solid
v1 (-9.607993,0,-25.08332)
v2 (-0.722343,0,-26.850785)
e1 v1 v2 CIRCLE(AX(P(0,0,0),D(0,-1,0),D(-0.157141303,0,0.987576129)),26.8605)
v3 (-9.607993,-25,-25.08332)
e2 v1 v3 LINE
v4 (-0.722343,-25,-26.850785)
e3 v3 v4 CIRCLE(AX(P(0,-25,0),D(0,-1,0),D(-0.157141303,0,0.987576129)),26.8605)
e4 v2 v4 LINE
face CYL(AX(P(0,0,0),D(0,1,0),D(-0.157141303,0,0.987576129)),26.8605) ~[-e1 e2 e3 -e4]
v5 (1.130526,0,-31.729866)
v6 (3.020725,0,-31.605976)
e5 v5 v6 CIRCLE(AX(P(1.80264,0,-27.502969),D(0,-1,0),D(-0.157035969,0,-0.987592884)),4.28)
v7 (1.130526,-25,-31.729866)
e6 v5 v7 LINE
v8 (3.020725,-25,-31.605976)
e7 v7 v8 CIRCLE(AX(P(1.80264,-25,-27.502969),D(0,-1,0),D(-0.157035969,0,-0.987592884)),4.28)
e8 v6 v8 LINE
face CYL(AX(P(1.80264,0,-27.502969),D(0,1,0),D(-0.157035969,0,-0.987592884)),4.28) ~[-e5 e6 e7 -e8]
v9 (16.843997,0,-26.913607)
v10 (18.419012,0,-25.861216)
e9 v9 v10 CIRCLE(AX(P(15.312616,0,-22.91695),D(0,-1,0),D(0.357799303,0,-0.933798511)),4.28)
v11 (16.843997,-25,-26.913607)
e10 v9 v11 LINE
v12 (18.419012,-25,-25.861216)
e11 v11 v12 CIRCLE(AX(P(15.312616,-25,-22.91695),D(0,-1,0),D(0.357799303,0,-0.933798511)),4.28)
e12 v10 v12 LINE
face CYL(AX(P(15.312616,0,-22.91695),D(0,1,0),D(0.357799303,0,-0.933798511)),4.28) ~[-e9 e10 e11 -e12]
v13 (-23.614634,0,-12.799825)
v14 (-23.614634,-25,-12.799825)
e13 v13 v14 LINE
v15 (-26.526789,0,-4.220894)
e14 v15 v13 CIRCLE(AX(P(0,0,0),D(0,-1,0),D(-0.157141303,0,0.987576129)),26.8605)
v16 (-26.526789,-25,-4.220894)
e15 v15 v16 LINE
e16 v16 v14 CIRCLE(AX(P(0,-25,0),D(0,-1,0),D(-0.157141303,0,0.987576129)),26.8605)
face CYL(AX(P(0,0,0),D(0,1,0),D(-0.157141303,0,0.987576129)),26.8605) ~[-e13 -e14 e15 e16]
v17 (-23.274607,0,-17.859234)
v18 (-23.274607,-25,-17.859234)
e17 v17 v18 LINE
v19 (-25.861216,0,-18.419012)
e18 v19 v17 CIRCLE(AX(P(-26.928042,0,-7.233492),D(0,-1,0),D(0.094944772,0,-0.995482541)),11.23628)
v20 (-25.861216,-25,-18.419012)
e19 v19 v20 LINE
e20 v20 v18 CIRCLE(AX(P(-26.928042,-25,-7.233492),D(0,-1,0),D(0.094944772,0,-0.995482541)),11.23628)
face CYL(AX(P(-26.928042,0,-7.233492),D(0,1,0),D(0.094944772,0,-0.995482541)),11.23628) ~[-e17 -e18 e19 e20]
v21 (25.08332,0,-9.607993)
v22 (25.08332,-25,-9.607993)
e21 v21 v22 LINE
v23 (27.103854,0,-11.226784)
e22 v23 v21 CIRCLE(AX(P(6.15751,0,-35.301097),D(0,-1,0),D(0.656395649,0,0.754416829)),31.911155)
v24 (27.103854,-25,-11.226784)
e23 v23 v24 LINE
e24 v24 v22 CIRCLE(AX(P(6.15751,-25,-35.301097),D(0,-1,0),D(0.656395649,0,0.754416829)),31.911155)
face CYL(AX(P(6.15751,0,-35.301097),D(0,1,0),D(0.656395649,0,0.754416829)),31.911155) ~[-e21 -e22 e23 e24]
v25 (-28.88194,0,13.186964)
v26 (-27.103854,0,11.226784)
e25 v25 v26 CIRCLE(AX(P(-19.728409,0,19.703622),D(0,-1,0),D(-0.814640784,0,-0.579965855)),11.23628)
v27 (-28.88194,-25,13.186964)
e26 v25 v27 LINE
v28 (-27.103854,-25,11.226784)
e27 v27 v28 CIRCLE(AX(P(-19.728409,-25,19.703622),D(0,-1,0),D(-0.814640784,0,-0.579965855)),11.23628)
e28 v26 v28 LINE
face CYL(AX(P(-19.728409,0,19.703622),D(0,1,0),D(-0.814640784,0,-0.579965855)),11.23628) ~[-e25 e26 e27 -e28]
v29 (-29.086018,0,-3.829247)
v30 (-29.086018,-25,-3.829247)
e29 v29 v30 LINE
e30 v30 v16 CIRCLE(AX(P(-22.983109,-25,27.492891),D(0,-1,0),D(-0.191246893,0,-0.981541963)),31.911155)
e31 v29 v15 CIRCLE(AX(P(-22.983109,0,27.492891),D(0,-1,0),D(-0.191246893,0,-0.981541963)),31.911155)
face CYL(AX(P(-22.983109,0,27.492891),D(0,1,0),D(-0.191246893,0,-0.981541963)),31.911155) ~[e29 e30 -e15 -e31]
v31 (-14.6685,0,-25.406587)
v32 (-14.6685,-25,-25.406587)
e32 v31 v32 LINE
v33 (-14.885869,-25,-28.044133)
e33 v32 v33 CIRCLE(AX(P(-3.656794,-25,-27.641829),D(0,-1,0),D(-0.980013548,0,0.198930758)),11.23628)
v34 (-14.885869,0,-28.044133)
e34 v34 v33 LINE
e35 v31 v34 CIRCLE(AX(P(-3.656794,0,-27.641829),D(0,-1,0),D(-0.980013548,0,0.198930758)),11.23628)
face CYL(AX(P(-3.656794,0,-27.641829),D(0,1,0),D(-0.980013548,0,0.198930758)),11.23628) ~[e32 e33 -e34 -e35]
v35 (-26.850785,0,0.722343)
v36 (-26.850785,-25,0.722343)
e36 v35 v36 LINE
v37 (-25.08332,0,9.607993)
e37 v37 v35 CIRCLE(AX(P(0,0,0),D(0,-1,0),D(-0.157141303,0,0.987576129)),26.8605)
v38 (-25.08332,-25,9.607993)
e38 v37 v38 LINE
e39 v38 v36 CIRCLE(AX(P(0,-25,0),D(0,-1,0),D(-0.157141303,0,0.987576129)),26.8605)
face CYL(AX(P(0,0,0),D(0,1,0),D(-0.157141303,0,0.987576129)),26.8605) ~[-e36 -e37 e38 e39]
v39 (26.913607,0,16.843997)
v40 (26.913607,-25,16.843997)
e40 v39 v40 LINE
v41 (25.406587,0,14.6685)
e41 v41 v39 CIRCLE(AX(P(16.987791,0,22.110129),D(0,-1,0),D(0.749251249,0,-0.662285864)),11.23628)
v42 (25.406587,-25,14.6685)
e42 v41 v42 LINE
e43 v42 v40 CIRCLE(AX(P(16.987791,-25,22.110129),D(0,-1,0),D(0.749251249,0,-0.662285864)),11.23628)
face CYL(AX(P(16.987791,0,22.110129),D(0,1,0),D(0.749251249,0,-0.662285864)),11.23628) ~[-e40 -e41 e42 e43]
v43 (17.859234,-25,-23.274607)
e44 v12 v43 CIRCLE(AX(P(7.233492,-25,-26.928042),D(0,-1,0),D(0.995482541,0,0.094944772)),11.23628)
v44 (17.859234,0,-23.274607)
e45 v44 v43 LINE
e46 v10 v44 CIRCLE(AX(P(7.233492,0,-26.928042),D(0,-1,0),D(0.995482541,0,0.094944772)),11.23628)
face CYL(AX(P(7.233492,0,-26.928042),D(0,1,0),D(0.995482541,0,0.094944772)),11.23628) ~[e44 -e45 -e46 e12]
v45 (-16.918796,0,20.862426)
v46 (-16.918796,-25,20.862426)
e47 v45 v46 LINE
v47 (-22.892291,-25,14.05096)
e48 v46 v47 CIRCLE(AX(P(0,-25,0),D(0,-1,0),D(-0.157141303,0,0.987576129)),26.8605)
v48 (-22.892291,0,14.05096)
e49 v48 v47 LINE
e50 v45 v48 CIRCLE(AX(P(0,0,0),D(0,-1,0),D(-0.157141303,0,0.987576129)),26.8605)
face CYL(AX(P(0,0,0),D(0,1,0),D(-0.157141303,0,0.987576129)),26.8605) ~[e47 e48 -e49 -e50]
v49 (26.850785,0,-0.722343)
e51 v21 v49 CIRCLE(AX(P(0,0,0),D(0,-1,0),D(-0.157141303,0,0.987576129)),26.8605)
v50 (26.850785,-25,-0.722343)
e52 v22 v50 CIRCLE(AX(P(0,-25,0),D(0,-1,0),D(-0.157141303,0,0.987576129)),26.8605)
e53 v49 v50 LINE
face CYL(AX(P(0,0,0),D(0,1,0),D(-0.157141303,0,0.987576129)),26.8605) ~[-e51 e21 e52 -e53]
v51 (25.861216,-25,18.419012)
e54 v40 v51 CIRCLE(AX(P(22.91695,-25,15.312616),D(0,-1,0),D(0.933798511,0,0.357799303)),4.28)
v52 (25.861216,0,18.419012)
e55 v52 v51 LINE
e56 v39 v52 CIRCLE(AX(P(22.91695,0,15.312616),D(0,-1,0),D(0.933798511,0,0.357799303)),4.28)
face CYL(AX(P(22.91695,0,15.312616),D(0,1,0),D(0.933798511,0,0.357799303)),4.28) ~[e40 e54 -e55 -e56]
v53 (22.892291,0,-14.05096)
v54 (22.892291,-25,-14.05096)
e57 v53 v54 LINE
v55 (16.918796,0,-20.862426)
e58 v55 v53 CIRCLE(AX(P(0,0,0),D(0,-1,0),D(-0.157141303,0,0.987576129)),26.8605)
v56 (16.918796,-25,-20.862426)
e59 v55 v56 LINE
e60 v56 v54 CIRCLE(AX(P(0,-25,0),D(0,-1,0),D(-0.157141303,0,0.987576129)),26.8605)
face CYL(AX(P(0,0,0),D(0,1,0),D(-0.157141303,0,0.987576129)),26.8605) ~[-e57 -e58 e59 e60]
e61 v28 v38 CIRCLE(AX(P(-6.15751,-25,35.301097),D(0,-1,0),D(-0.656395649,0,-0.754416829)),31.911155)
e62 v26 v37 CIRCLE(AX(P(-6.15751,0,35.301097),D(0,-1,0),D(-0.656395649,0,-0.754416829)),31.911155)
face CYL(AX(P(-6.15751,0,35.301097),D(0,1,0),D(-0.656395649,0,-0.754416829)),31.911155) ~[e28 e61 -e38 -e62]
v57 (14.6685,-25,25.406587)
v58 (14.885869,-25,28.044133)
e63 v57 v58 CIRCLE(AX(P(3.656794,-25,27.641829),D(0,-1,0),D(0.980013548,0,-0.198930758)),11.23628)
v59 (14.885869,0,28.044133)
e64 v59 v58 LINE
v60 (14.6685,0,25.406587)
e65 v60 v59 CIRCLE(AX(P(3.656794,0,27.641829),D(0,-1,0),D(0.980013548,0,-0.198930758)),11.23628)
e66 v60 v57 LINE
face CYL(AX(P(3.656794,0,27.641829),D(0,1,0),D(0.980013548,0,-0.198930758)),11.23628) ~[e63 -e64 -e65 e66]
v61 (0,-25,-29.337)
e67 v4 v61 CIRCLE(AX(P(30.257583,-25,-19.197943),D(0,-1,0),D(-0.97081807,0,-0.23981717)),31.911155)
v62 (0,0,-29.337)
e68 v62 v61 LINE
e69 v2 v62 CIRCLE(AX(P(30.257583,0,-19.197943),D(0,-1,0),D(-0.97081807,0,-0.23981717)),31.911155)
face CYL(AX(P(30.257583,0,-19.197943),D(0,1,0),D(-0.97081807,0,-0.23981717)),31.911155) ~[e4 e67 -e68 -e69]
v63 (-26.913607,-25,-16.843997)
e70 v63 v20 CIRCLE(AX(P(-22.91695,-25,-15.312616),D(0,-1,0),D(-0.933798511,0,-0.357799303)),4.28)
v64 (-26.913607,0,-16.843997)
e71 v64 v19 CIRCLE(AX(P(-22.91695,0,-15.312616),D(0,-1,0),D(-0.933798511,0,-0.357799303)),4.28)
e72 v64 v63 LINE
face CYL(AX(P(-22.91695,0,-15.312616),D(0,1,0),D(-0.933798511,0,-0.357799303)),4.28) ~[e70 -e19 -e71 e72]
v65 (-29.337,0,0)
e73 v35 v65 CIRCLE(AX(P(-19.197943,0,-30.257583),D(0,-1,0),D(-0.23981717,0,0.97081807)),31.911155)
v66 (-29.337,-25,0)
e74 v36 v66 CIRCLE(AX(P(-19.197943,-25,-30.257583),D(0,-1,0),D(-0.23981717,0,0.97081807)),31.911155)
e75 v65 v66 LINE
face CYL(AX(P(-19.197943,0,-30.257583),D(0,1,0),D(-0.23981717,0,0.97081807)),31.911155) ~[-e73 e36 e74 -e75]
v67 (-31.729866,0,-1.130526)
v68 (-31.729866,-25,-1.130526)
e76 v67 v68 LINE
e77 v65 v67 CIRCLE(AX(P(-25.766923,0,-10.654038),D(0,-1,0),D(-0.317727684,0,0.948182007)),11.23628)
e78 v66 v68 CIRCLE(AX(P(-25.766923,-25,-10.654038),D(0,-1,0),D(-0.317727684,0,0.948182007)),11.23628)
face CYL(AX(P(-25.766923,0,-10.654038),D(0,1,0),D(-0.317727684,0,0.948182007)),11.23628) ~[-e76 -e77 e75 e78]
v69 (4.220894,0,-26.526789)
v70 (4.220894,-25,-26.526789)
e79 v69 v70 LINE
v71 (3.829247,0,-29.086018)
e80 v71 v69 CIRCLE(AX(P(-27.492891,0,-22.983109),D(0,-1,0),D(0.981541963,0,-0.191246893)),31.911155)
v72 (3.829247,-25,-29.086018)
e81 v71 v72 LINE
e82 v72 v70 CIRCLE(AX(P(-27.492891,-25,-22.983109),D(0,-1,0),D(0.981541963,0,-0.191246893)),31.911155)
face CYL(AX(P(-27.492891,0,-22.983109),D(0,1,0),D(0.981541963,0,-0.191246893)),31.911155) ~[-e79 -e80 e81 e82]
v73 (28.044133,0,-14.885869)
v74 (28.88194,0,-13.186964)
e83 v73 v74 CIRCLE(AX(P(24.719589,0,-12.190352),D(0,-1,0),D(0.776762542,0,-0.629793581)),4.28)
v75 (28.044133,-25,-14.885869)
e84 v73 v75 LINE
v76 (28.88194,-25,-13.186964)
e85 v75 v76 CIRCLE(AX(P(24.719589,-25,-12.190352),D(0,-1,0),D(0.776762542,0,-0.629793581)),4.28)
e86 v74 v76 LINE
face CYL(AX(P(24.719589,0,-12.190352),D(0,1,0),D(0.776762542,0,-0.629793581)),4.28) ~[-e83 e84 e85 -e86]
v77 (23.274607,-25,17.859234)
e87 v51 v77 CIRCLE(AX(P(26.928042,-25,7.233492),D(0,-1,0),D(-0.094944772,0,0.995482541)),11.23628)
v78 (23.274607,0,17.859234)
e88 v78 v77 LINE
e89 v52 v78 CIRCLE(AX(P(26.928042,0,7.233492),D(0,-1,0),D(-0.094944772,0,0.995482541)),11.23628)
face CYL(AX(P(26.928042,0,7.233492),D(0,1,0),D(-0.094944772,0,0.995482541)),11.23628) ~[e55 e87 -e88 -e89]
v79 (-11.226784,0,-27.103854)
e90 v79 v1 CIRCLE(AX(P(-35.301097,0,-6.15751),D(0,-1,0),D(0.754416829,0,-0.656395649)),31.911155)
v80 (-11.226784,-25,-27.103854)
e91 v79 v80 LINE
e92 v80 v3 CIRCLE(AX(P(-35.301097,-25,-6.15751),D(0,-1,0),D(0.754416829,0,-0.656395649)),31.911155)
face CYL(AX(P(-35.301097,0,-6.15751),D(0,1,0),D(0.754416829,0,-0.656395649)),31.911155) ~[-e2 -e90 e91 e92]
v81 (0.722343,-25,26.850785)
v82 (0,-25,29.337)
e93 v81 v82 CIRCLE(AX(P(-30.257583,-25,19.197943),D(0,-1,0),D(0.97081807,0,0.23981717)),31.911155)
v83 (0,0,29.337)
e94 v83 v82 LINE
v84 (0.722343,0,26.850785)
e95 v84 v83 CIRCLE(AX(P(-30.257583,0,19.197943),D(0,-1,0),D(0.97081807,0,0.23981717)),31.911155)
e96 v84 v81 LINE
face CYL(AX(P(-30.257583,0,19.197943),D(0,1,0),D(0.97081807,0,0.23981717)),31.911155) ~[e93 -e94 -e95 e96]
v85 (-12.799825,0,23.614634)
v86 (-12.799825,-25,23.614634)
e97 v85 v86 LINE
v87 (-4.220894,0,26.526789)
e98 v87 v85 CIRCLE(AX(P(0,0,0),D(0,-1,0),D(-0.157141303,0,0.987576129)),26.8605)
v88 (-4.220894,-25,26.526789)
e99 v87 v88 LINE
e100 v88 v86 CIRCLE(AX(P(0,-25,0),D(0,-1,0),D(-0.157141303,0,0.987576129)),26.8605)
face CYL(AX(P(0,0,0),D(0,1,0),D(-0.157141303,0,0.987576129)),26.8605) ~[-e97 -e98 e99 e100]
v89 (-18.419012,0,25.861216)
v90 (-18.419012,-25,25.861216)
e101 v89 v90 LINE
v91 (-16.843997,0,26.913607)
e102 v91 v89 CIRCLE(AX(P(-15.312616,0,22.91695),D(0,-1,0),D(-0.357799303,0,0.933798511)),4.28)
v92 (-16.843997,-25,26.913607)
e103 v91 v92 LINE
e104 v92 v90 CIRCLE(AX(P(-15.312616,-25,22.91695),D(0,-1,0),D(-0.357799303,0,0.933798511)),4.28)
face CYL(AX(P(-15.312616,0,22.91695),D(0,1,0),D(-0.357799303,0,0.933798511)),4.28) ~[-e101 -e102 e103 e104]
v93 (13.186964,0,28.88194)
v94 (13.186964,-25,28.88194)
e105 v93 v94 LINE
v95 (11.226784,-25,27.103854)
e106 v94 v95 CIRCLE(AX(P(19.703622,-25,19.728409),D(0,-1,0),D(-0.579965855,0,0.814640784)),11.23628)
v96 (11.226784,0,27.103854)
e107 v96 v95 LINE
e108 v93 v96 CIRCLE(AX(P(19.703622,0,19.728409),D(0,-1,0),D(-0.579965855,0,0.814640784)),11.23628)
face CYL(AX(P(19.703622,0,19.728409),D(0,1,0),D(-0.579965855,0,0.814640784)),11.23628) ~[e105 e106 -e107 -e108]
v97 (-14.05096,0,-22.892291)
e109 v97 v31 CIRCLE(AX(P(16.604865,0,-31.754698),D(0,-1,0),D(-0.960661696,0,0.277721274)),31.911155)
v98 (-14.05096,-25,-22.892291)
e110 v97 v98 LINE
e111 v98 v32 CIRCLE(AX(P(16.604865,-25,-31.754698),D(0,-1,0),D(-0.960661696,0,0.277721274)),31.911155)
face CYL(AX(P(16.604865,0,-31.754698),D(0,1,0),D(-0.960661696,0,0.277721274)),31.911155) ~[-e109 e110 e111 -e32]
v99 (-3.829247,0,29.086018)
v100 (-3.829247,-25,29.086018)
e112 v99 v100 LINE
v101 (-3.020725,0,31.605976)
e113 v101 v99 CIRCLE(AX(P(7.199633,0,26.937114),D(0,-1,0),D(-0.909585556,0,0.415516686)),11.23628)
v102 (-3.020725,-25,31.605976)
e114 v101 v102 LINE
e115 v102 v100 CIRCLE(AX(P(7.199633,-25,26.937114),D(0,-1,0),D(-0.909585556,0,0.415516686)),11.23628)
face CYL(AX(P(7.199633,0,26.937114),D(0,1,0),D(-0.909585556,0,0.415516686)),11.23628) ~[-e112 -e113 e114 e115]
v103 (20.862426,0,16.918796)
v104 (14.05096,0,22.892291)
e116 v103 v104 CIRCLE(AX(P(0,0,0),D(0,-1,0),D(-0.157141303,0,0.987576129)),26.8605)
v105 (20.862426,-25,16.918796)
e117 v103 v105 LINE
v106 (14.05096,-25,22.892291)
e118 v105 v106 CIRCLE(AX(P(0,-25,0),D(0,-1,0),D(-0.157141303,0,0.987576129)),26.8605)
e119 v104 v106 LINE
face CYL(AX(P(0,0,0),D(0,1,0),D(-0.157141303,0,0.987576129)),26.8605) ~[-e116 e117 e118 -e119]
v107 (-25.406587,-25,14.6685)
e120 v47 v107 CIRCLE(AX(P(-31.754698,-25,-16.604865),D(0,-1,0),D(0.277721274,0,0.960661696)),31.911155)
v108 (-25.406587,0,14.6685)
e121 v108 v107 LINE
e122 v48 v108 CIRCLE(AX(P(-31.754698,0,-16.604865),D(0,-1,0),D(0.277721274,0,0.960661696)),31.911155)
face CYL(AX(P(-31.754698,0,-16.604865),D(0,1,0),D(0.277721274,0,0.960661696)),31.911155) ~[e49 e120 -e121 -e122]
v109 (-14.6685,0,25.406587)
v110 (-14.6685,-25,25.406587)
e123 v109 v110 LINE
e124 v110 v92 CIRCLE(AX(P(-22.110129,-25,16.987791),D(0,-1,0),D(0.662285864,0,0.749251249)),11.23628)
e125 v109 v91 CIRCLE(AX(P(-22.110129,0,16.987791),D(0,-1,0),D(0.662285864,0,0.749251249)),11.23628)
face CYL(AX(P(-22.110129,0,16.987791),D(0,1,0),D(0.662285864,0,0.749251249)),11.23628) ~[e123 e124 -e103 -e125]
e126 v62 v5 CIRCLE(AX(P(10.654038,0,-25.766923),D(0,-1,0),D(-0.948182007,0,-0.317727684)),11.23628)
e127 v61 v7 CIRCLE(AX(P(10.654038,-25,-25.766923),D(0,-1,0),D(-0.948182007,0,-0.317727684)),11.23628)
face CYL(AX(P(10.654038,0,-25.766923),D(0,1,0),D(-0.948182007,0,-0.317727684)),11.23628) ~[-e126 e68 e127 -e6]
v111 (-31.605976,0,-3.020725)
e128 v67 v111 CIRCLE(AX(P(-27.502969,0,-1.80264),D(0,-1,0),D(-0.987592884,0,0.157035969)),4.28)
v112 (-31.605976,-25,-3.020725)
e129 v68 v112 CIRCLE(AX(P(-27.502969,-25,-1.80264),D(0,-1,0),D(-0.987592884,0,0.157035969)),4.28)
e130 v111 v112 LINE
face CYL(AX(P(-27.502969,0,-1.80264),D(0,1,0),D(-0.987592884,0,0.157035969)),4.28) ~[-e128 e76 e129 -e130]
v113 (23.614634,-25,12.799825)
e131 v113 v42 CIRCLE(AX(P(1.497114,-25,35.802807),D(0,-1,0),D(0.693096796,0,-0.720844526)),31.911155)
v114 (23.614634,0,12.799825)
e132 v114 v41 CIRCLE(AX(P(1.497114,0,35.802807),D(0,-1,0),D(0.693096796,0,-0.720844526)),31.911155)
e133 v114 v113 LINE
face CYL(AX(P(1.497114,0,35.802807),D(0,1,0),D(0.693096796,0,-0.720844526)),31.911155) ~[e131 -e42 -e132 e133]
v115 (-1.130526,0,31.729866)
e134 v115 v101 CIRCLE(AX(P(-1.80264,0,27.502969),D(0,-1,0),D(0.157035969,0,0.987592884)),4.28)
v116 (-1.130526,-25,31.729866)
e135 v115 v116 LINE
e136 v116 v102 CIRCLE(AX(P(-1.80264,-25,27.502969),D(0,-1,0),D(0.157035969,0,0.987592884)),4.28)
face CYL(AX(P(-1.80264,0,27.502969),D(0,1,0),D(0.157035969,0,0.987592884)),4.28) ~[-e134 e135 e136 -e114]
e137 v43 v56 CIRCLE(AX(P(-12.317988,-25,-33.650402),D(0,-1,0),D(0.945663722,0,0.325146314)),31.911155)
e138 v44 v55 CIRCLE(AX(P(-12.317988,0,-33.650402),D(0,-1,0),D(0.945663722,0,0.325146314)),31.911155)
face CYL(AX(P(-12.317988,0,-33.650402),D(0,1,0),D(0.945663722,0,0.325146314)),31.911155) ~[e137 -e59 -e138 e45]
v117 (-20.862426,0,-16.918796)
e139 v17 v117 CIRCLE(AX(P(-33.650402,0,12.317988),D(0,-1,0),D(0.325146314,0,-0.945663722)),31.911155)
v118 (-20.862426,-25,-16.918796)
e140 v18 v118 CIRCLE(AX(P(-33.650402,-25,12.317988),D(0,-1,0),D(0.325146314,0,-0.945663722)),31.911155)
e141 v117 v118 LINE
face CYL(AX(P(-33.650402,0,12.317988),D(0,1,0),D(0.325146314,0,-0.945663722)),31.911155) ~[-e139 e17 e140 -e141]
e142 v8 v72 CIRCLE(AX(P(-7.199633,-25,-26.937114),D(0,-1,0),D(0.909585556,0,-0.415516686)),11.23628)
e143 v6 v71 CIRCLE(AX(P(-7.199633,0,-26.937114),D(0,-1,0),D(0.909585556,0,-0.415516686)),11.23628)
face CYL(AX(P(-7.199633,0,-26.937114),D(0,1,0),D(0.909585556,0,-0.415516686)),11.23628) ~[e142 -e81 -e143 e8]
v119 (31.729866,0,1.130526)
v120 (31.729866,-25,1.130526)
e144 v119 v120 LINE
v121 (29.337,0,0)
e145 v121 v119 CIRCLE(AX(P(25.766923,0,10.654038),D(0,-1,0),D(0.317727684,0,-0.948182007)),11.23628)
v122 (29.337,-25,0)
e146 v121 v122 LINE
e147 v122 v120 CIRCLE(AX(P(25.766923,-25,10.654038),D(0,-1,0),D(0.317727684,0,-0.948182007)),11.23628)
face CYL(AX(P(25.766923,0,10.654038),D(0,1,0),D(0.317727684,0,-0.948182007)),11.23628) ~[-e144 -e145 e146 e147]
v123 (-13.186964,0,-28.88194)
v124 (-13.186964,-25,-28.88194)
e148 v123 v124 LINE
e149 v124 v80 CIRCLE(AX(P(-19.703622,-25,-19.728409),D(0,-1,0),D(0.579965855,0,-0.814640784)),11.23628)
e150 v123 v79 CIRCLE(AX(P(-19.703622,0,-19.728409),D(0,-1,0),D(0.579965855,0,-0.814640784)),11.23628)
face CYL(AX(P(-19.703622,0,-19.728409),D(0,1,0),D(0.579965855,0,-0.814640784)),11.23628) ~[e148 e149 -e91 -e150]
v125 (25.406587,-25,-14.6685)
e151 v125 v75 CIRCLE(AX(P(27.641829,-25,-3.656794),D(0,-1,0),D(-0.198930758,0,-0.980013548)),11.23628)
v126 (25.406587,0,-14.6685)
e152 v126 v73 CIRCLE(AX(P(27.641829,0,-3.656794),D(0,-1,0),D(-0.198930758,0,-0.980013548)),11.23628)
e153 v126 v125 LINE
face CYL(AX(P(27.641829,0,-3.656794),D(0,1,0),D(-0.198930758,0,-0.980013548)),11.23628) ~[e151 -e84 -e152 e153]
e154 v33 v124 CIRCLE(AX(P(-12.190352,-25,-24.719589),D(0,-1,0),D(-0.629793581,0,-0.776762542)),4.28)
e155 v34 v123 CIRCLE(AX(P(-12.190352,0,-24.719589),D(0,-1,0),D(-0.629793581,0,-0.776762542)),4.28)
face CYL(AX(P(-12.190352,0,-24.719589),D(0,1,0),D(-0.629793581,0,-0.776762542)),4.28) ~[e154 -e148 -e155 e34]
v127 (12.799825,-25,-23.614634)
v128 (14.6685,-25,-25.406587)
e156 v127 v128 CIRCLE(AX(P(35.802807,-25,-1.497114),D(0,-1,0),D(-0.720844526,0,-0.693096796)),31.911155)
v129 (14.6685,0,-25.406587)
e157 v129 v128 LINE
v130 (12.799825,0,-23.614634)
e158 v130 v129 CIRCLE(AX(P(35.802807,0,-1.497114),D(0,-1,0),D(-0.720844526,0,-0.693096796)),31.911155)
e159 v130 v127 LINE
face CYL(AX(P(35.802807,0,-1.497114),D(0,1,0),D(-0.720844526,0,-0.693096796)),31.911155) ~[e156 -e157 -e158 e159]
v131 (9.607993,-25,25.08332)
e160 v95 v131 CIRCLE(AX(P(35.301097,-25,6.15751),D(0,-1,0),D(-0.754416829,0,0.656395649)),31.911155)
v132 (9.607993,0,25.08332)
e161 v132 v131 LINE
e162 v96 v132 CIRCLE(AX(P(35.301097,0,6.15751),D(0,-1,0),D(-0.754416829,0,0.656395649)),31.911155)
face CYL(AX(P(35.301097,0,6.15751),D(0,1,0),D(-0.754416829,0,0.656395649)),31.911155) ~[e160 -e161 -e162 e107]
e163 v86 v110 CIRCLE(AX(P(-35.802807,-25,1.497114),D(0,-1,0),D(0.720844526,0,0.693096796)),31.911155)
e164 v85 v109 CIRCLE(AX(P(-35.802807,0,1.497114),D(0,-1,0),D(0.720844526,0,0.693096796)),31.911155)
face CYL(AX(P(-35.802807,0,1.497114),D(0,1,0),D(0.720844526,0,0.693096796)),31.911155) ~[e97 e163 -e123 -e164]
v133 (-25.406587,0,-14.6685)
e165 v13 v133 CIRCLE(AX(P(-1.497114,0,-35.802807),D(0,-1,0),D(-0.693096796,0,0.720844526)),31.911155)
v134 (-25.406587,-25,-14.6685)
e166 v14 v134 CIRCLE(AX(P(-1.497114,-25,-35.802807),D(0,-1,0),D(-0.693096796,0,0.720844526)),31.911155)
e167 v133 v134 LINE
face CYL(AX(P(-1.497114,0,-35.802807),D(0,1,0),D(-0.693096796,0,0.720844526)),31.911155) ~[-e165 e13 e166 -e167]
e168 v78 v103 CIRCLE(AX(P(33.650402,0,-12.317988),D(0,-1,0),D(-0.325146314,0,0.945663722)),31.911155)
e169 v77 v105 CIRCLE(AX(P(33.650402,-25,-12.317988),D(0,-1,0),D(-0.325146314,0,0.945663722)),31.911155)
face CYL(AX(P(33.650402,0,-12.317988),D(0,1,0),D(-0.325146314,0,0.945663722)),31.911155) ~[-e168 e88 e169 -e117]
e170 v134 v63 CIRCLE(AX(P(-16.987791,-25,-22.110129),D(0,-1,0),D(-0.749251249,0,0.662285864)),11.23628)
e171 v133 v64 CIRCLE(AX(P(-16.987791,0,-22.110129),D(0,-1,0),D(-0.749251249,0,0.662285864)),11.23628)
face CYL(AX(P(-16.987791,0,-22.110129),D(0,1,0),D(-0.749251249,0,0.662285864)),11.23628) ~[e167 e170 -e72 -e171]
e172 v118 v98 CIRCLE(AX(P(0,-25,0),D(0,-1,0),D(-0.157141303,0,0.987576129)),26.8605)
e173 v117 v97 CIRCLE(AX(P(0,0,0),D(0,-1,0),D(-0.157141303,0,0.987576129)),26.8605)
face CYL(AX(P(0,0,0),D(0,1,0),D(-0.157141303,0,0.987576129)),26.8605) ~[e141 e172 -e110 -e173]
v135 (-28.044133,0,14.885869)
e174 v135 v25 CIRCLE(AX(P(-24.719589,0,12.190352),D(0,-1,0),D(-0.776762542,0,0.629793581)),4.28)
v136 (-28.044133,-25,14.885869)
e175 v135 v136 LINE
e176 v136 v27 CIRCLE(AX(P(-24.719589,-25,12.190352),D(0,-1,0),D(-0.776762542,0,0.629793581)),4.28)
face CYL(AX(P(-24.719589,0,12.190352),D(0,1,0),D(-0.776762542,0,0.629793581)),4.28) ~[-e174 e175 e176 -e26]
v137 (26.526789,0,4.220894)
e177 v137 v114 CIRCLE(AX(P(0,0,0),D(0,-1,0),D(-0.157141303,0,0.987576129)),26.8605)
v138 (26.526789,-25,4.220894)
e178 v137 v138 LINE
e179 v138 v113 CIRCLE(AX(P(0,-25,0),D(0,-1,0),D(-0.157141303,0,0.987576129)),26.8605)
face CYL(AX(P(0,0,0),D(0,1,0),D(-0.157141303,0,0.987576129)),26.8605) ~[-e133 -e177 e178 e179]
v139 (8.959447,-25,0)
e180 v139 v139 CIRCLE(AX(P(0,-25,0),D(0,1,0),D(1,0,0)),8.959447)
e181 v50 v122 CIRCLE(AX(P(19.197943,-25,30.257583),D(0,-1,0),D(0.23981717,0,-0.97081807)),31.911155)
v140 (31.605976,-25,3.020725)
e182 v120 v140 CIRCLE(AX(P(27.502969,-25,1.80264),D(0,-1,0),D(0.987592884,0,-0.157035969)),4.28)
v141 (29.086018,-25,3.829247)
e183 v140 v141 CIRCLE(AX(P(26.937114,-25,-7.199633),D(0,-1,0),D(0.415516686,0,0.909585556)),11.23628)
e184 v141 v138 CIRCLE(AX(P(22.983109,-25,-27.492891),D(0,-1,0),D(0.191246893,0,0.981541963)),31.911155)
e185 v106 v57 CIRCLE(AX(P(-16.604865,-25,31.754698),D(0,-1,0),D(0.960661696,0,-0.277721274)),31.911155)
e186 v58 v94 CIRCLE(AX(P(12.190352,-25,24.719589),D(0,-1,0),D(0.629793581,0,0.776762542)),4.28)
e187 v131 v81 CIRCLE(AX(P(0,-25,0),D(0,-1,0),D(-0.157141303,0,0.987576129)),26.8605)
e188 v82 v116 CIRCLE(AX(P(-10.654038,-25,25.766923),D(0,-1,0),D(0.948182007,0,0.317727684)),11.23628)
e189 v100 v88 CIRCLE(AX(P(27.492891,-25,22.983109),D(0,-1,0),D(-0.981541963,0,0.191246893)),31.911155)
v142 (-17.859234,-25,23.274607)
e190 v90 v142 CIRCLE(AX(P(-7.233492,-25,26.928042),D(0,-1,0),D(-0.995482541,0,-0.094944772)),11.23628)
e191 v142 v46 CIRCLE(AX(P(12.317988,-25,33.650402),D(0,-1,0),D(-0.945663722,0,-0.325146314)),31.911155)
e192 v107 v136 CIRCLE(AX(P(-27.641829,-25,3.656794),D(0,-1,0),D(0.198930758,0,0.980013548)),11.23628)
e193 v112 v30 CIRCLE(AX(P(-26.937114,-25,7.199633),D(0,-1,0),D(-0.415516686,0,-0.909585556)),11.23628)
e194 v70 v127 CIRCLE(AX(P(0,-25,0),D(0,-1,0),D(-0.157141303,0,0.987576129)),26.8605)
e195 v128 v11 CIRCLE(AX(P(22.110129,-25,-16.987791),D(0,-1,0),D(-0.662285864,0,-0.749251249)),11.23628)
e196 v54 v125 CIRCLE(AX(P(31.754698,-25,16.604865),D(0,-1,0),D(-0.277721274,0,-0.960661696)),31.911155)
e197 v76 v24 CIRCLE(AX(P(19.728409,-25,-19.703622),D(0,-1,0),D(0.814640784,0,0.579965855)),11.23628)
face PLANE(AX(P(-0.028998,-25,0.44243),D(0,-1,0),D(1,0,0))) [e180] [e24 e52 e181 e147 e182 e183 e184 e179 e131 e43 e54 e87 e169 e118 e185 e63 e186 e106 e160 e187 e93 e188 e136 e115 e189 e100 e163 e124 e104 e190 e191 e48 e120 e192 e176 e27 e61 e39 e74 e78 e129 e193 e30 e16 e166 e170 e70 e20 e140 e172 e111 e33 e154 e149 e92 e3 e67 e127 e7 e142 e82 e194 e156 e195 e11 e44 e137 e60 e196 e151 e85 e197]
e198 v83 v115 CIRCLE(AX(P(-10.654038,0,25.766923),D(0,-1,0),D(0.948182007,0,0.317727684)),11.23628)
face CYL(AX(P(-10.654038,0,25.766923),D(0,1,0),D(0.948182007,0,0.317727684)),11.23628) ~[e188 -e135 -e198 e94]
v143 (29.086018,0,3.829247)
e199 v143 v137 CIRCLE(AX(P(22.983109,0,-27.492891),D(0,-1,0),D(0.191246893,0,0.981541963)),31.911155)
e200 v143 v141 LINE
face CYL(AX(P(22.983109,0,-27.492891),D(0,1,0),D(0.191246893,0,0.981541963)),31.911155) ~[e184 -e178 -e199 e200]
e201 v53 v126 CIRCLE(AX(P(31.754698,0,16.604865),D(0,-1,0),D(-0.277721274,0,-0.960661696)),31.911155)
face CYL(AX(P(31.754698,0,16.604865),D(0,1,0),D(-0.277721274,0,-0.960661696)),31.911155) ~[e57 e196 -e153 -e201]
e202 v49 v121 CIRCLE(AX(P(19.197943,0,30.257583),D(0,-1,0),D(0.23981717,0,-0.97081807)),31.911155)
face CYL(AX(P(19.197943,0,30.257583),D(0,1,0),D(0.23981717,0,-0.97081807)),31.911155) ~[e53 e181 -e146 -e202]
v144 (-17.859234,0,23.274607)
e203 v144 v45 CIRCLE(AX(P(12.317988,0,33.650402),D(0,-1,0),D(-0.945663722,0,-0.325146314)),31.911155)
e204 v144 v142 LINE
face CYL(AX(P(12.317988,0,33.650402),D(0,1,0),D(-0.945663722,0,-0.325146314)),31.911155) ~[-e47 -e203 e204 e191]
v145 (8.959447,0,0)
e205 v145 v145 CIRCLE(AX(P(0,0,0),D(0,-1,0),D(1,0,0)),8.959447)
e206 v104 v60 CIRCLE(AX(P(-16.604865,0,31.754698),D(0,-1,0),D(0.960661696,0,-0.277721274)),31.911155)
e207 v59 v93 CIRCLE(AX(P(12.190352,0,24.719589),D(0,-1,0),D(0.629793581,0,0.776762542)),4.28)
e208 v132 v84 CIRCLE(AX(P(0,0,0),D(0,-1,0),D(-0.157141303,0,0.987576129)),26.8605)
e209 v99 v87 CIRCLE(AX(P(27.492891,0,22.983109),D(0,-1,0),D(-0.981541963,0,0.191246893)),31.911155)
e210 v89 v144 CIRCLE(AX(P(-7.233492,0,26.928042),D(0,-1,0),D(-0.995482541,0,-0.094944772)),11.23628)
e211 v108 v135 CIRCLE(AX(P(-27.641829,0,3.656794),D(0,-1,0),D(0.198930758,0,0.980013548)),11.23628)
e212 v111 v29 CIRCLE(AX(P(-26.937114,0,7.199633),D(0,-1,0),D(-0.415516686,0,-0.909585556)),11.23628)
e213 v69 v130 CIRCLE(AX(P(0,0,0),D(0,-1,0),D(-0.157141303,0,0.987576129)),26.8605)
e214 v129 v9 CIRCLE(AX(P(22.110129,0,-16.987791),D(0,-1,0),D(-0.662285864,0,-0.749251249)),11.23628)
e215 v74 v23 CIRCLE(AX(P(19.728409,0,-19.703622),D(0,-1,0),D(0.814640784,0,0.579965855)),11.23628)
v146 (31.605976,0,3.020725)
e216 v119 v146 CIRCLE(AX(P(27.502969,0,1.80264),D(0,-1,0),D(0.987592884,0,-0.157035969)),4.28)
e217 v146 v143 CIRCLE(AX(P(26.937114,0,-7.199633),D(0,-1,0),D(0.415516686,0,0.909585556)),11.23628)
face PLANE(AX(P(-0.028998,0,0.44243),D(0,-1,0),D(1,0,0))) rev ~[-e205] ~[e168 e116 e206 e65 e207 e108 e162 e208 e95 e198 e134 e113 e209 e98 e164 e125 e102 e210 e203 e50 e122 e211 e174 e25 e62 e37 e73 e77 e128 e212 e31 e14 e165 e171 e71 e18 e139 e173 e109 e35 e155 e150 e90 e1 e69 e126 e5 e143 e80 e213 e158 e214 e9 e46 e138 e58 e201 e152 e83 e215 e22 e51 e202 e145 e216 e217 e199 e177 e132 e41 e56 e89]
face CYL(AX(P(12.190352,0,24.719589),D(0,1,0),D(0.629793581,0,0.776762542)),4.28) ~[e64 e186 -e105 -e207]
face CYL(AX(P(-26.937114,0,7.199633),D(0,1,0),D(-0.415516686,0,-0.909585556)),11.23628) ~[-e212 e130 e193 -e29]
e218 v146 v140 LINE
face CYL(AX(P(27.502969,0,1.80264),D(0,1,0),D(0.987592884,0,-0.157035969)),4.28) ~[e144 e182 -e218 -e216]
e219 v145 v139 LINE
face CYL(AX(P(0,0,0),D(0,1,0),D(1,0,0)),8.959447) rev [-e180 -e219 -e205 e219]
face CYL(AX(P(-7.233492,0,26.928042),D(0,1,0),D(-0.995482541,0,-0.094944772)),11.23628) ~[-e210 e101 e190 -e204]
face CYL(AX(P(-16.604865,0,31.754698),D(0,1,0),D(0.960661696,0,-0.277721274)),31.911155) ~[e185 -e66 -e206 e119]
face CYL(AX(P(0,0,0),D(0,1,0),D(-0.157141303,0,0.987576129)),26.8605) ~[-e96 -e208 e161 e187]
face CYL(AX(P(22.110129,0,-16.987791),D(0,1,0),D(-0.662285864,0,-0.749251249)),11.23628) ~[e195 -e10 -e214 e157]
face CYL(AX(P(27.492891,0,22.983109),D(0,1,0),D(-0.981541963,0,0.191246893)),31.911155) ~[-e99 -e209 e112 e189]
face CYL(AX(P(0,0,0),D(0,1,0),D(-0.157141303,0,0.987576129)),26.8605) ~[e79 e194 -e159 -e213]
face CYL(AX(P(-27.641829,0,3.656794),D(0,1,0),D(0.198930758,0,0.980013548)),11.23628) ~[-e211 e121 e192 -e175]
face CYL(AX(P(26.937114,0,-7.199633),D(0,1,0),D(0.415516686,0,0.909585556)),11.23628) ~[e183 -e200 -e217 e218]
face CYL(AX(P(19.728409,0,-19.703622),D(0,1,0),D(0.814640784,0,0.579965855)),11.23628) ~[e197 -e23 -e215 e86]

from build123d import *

# Parameters (mm, degrees)
F0_R     = 8.9594467425
F1_DEPTH = 25
F2_COUNT = 12


with BuildPart() as f1:
    # F0 (on Front) → F1 (new body)
    with BuildSketch(Plane.XZ):
        with BuildLine():
            ThreePointArc((-4.2208939589, 26.526788619), (-17.4371892527, -20.4311255494), (26.8605, 0))
            ThreePointArc((26.8605, 0), (19.2469341992, 18.7361144366), (0.7223429156, 26.8507854813))
            ThreePointArc((0.7223429156, 26.8507854813), (-1.7567607527, 26.8029896077), (-4.2208939589, 26.526788619))
        make_face()
        Circle(F0_R, mode=Mode.SUBTRACT)
        with BuildLine():
            ThreePointArc((-4.2208939589, 26.526788619), (-1.7567607527, 26.8029896077), (0.7223429156, 26.8507854813))
            ThreePointArc((0.7223429156, 26.8507854813), (0.386395857, 28.1012214188), (0, 29.337))
            ThreePointArc((0, 29.337), (-0.494567808, 30.5668335061), (-1.1305258579, 31.7298662349))
            ThreePointArc((-1.1305258579, 31.7298662349), (-2.0825651989, 31.7738048831), (-3.0207245668, 31.6059760661))
            ThreePointArc((-3.0207245668, 31.6059760661), (-3.4994356739, 30.3698840609), (-3.8292469012, 29.0860178981))
            ThreePointArc((-3.8292469012, 29.0860178981), (-4.0510356154, 27.8103767941), (-4.2208939589, 26.526788619))
        make_face()
    extrude(amount=F1_DEPTH)

    # F2: F1 ×12 about axis
    f2_axis = Axis((0, 0, 0), (0, 1, 0))


with BuildPart() as f1_1:
    add(f1.part)
    for i in range(1, F2_COUNT):
        add(f1.part.rotate(f2_axis, i * 360 / F2_COUNT))


solid = f1_1.part
